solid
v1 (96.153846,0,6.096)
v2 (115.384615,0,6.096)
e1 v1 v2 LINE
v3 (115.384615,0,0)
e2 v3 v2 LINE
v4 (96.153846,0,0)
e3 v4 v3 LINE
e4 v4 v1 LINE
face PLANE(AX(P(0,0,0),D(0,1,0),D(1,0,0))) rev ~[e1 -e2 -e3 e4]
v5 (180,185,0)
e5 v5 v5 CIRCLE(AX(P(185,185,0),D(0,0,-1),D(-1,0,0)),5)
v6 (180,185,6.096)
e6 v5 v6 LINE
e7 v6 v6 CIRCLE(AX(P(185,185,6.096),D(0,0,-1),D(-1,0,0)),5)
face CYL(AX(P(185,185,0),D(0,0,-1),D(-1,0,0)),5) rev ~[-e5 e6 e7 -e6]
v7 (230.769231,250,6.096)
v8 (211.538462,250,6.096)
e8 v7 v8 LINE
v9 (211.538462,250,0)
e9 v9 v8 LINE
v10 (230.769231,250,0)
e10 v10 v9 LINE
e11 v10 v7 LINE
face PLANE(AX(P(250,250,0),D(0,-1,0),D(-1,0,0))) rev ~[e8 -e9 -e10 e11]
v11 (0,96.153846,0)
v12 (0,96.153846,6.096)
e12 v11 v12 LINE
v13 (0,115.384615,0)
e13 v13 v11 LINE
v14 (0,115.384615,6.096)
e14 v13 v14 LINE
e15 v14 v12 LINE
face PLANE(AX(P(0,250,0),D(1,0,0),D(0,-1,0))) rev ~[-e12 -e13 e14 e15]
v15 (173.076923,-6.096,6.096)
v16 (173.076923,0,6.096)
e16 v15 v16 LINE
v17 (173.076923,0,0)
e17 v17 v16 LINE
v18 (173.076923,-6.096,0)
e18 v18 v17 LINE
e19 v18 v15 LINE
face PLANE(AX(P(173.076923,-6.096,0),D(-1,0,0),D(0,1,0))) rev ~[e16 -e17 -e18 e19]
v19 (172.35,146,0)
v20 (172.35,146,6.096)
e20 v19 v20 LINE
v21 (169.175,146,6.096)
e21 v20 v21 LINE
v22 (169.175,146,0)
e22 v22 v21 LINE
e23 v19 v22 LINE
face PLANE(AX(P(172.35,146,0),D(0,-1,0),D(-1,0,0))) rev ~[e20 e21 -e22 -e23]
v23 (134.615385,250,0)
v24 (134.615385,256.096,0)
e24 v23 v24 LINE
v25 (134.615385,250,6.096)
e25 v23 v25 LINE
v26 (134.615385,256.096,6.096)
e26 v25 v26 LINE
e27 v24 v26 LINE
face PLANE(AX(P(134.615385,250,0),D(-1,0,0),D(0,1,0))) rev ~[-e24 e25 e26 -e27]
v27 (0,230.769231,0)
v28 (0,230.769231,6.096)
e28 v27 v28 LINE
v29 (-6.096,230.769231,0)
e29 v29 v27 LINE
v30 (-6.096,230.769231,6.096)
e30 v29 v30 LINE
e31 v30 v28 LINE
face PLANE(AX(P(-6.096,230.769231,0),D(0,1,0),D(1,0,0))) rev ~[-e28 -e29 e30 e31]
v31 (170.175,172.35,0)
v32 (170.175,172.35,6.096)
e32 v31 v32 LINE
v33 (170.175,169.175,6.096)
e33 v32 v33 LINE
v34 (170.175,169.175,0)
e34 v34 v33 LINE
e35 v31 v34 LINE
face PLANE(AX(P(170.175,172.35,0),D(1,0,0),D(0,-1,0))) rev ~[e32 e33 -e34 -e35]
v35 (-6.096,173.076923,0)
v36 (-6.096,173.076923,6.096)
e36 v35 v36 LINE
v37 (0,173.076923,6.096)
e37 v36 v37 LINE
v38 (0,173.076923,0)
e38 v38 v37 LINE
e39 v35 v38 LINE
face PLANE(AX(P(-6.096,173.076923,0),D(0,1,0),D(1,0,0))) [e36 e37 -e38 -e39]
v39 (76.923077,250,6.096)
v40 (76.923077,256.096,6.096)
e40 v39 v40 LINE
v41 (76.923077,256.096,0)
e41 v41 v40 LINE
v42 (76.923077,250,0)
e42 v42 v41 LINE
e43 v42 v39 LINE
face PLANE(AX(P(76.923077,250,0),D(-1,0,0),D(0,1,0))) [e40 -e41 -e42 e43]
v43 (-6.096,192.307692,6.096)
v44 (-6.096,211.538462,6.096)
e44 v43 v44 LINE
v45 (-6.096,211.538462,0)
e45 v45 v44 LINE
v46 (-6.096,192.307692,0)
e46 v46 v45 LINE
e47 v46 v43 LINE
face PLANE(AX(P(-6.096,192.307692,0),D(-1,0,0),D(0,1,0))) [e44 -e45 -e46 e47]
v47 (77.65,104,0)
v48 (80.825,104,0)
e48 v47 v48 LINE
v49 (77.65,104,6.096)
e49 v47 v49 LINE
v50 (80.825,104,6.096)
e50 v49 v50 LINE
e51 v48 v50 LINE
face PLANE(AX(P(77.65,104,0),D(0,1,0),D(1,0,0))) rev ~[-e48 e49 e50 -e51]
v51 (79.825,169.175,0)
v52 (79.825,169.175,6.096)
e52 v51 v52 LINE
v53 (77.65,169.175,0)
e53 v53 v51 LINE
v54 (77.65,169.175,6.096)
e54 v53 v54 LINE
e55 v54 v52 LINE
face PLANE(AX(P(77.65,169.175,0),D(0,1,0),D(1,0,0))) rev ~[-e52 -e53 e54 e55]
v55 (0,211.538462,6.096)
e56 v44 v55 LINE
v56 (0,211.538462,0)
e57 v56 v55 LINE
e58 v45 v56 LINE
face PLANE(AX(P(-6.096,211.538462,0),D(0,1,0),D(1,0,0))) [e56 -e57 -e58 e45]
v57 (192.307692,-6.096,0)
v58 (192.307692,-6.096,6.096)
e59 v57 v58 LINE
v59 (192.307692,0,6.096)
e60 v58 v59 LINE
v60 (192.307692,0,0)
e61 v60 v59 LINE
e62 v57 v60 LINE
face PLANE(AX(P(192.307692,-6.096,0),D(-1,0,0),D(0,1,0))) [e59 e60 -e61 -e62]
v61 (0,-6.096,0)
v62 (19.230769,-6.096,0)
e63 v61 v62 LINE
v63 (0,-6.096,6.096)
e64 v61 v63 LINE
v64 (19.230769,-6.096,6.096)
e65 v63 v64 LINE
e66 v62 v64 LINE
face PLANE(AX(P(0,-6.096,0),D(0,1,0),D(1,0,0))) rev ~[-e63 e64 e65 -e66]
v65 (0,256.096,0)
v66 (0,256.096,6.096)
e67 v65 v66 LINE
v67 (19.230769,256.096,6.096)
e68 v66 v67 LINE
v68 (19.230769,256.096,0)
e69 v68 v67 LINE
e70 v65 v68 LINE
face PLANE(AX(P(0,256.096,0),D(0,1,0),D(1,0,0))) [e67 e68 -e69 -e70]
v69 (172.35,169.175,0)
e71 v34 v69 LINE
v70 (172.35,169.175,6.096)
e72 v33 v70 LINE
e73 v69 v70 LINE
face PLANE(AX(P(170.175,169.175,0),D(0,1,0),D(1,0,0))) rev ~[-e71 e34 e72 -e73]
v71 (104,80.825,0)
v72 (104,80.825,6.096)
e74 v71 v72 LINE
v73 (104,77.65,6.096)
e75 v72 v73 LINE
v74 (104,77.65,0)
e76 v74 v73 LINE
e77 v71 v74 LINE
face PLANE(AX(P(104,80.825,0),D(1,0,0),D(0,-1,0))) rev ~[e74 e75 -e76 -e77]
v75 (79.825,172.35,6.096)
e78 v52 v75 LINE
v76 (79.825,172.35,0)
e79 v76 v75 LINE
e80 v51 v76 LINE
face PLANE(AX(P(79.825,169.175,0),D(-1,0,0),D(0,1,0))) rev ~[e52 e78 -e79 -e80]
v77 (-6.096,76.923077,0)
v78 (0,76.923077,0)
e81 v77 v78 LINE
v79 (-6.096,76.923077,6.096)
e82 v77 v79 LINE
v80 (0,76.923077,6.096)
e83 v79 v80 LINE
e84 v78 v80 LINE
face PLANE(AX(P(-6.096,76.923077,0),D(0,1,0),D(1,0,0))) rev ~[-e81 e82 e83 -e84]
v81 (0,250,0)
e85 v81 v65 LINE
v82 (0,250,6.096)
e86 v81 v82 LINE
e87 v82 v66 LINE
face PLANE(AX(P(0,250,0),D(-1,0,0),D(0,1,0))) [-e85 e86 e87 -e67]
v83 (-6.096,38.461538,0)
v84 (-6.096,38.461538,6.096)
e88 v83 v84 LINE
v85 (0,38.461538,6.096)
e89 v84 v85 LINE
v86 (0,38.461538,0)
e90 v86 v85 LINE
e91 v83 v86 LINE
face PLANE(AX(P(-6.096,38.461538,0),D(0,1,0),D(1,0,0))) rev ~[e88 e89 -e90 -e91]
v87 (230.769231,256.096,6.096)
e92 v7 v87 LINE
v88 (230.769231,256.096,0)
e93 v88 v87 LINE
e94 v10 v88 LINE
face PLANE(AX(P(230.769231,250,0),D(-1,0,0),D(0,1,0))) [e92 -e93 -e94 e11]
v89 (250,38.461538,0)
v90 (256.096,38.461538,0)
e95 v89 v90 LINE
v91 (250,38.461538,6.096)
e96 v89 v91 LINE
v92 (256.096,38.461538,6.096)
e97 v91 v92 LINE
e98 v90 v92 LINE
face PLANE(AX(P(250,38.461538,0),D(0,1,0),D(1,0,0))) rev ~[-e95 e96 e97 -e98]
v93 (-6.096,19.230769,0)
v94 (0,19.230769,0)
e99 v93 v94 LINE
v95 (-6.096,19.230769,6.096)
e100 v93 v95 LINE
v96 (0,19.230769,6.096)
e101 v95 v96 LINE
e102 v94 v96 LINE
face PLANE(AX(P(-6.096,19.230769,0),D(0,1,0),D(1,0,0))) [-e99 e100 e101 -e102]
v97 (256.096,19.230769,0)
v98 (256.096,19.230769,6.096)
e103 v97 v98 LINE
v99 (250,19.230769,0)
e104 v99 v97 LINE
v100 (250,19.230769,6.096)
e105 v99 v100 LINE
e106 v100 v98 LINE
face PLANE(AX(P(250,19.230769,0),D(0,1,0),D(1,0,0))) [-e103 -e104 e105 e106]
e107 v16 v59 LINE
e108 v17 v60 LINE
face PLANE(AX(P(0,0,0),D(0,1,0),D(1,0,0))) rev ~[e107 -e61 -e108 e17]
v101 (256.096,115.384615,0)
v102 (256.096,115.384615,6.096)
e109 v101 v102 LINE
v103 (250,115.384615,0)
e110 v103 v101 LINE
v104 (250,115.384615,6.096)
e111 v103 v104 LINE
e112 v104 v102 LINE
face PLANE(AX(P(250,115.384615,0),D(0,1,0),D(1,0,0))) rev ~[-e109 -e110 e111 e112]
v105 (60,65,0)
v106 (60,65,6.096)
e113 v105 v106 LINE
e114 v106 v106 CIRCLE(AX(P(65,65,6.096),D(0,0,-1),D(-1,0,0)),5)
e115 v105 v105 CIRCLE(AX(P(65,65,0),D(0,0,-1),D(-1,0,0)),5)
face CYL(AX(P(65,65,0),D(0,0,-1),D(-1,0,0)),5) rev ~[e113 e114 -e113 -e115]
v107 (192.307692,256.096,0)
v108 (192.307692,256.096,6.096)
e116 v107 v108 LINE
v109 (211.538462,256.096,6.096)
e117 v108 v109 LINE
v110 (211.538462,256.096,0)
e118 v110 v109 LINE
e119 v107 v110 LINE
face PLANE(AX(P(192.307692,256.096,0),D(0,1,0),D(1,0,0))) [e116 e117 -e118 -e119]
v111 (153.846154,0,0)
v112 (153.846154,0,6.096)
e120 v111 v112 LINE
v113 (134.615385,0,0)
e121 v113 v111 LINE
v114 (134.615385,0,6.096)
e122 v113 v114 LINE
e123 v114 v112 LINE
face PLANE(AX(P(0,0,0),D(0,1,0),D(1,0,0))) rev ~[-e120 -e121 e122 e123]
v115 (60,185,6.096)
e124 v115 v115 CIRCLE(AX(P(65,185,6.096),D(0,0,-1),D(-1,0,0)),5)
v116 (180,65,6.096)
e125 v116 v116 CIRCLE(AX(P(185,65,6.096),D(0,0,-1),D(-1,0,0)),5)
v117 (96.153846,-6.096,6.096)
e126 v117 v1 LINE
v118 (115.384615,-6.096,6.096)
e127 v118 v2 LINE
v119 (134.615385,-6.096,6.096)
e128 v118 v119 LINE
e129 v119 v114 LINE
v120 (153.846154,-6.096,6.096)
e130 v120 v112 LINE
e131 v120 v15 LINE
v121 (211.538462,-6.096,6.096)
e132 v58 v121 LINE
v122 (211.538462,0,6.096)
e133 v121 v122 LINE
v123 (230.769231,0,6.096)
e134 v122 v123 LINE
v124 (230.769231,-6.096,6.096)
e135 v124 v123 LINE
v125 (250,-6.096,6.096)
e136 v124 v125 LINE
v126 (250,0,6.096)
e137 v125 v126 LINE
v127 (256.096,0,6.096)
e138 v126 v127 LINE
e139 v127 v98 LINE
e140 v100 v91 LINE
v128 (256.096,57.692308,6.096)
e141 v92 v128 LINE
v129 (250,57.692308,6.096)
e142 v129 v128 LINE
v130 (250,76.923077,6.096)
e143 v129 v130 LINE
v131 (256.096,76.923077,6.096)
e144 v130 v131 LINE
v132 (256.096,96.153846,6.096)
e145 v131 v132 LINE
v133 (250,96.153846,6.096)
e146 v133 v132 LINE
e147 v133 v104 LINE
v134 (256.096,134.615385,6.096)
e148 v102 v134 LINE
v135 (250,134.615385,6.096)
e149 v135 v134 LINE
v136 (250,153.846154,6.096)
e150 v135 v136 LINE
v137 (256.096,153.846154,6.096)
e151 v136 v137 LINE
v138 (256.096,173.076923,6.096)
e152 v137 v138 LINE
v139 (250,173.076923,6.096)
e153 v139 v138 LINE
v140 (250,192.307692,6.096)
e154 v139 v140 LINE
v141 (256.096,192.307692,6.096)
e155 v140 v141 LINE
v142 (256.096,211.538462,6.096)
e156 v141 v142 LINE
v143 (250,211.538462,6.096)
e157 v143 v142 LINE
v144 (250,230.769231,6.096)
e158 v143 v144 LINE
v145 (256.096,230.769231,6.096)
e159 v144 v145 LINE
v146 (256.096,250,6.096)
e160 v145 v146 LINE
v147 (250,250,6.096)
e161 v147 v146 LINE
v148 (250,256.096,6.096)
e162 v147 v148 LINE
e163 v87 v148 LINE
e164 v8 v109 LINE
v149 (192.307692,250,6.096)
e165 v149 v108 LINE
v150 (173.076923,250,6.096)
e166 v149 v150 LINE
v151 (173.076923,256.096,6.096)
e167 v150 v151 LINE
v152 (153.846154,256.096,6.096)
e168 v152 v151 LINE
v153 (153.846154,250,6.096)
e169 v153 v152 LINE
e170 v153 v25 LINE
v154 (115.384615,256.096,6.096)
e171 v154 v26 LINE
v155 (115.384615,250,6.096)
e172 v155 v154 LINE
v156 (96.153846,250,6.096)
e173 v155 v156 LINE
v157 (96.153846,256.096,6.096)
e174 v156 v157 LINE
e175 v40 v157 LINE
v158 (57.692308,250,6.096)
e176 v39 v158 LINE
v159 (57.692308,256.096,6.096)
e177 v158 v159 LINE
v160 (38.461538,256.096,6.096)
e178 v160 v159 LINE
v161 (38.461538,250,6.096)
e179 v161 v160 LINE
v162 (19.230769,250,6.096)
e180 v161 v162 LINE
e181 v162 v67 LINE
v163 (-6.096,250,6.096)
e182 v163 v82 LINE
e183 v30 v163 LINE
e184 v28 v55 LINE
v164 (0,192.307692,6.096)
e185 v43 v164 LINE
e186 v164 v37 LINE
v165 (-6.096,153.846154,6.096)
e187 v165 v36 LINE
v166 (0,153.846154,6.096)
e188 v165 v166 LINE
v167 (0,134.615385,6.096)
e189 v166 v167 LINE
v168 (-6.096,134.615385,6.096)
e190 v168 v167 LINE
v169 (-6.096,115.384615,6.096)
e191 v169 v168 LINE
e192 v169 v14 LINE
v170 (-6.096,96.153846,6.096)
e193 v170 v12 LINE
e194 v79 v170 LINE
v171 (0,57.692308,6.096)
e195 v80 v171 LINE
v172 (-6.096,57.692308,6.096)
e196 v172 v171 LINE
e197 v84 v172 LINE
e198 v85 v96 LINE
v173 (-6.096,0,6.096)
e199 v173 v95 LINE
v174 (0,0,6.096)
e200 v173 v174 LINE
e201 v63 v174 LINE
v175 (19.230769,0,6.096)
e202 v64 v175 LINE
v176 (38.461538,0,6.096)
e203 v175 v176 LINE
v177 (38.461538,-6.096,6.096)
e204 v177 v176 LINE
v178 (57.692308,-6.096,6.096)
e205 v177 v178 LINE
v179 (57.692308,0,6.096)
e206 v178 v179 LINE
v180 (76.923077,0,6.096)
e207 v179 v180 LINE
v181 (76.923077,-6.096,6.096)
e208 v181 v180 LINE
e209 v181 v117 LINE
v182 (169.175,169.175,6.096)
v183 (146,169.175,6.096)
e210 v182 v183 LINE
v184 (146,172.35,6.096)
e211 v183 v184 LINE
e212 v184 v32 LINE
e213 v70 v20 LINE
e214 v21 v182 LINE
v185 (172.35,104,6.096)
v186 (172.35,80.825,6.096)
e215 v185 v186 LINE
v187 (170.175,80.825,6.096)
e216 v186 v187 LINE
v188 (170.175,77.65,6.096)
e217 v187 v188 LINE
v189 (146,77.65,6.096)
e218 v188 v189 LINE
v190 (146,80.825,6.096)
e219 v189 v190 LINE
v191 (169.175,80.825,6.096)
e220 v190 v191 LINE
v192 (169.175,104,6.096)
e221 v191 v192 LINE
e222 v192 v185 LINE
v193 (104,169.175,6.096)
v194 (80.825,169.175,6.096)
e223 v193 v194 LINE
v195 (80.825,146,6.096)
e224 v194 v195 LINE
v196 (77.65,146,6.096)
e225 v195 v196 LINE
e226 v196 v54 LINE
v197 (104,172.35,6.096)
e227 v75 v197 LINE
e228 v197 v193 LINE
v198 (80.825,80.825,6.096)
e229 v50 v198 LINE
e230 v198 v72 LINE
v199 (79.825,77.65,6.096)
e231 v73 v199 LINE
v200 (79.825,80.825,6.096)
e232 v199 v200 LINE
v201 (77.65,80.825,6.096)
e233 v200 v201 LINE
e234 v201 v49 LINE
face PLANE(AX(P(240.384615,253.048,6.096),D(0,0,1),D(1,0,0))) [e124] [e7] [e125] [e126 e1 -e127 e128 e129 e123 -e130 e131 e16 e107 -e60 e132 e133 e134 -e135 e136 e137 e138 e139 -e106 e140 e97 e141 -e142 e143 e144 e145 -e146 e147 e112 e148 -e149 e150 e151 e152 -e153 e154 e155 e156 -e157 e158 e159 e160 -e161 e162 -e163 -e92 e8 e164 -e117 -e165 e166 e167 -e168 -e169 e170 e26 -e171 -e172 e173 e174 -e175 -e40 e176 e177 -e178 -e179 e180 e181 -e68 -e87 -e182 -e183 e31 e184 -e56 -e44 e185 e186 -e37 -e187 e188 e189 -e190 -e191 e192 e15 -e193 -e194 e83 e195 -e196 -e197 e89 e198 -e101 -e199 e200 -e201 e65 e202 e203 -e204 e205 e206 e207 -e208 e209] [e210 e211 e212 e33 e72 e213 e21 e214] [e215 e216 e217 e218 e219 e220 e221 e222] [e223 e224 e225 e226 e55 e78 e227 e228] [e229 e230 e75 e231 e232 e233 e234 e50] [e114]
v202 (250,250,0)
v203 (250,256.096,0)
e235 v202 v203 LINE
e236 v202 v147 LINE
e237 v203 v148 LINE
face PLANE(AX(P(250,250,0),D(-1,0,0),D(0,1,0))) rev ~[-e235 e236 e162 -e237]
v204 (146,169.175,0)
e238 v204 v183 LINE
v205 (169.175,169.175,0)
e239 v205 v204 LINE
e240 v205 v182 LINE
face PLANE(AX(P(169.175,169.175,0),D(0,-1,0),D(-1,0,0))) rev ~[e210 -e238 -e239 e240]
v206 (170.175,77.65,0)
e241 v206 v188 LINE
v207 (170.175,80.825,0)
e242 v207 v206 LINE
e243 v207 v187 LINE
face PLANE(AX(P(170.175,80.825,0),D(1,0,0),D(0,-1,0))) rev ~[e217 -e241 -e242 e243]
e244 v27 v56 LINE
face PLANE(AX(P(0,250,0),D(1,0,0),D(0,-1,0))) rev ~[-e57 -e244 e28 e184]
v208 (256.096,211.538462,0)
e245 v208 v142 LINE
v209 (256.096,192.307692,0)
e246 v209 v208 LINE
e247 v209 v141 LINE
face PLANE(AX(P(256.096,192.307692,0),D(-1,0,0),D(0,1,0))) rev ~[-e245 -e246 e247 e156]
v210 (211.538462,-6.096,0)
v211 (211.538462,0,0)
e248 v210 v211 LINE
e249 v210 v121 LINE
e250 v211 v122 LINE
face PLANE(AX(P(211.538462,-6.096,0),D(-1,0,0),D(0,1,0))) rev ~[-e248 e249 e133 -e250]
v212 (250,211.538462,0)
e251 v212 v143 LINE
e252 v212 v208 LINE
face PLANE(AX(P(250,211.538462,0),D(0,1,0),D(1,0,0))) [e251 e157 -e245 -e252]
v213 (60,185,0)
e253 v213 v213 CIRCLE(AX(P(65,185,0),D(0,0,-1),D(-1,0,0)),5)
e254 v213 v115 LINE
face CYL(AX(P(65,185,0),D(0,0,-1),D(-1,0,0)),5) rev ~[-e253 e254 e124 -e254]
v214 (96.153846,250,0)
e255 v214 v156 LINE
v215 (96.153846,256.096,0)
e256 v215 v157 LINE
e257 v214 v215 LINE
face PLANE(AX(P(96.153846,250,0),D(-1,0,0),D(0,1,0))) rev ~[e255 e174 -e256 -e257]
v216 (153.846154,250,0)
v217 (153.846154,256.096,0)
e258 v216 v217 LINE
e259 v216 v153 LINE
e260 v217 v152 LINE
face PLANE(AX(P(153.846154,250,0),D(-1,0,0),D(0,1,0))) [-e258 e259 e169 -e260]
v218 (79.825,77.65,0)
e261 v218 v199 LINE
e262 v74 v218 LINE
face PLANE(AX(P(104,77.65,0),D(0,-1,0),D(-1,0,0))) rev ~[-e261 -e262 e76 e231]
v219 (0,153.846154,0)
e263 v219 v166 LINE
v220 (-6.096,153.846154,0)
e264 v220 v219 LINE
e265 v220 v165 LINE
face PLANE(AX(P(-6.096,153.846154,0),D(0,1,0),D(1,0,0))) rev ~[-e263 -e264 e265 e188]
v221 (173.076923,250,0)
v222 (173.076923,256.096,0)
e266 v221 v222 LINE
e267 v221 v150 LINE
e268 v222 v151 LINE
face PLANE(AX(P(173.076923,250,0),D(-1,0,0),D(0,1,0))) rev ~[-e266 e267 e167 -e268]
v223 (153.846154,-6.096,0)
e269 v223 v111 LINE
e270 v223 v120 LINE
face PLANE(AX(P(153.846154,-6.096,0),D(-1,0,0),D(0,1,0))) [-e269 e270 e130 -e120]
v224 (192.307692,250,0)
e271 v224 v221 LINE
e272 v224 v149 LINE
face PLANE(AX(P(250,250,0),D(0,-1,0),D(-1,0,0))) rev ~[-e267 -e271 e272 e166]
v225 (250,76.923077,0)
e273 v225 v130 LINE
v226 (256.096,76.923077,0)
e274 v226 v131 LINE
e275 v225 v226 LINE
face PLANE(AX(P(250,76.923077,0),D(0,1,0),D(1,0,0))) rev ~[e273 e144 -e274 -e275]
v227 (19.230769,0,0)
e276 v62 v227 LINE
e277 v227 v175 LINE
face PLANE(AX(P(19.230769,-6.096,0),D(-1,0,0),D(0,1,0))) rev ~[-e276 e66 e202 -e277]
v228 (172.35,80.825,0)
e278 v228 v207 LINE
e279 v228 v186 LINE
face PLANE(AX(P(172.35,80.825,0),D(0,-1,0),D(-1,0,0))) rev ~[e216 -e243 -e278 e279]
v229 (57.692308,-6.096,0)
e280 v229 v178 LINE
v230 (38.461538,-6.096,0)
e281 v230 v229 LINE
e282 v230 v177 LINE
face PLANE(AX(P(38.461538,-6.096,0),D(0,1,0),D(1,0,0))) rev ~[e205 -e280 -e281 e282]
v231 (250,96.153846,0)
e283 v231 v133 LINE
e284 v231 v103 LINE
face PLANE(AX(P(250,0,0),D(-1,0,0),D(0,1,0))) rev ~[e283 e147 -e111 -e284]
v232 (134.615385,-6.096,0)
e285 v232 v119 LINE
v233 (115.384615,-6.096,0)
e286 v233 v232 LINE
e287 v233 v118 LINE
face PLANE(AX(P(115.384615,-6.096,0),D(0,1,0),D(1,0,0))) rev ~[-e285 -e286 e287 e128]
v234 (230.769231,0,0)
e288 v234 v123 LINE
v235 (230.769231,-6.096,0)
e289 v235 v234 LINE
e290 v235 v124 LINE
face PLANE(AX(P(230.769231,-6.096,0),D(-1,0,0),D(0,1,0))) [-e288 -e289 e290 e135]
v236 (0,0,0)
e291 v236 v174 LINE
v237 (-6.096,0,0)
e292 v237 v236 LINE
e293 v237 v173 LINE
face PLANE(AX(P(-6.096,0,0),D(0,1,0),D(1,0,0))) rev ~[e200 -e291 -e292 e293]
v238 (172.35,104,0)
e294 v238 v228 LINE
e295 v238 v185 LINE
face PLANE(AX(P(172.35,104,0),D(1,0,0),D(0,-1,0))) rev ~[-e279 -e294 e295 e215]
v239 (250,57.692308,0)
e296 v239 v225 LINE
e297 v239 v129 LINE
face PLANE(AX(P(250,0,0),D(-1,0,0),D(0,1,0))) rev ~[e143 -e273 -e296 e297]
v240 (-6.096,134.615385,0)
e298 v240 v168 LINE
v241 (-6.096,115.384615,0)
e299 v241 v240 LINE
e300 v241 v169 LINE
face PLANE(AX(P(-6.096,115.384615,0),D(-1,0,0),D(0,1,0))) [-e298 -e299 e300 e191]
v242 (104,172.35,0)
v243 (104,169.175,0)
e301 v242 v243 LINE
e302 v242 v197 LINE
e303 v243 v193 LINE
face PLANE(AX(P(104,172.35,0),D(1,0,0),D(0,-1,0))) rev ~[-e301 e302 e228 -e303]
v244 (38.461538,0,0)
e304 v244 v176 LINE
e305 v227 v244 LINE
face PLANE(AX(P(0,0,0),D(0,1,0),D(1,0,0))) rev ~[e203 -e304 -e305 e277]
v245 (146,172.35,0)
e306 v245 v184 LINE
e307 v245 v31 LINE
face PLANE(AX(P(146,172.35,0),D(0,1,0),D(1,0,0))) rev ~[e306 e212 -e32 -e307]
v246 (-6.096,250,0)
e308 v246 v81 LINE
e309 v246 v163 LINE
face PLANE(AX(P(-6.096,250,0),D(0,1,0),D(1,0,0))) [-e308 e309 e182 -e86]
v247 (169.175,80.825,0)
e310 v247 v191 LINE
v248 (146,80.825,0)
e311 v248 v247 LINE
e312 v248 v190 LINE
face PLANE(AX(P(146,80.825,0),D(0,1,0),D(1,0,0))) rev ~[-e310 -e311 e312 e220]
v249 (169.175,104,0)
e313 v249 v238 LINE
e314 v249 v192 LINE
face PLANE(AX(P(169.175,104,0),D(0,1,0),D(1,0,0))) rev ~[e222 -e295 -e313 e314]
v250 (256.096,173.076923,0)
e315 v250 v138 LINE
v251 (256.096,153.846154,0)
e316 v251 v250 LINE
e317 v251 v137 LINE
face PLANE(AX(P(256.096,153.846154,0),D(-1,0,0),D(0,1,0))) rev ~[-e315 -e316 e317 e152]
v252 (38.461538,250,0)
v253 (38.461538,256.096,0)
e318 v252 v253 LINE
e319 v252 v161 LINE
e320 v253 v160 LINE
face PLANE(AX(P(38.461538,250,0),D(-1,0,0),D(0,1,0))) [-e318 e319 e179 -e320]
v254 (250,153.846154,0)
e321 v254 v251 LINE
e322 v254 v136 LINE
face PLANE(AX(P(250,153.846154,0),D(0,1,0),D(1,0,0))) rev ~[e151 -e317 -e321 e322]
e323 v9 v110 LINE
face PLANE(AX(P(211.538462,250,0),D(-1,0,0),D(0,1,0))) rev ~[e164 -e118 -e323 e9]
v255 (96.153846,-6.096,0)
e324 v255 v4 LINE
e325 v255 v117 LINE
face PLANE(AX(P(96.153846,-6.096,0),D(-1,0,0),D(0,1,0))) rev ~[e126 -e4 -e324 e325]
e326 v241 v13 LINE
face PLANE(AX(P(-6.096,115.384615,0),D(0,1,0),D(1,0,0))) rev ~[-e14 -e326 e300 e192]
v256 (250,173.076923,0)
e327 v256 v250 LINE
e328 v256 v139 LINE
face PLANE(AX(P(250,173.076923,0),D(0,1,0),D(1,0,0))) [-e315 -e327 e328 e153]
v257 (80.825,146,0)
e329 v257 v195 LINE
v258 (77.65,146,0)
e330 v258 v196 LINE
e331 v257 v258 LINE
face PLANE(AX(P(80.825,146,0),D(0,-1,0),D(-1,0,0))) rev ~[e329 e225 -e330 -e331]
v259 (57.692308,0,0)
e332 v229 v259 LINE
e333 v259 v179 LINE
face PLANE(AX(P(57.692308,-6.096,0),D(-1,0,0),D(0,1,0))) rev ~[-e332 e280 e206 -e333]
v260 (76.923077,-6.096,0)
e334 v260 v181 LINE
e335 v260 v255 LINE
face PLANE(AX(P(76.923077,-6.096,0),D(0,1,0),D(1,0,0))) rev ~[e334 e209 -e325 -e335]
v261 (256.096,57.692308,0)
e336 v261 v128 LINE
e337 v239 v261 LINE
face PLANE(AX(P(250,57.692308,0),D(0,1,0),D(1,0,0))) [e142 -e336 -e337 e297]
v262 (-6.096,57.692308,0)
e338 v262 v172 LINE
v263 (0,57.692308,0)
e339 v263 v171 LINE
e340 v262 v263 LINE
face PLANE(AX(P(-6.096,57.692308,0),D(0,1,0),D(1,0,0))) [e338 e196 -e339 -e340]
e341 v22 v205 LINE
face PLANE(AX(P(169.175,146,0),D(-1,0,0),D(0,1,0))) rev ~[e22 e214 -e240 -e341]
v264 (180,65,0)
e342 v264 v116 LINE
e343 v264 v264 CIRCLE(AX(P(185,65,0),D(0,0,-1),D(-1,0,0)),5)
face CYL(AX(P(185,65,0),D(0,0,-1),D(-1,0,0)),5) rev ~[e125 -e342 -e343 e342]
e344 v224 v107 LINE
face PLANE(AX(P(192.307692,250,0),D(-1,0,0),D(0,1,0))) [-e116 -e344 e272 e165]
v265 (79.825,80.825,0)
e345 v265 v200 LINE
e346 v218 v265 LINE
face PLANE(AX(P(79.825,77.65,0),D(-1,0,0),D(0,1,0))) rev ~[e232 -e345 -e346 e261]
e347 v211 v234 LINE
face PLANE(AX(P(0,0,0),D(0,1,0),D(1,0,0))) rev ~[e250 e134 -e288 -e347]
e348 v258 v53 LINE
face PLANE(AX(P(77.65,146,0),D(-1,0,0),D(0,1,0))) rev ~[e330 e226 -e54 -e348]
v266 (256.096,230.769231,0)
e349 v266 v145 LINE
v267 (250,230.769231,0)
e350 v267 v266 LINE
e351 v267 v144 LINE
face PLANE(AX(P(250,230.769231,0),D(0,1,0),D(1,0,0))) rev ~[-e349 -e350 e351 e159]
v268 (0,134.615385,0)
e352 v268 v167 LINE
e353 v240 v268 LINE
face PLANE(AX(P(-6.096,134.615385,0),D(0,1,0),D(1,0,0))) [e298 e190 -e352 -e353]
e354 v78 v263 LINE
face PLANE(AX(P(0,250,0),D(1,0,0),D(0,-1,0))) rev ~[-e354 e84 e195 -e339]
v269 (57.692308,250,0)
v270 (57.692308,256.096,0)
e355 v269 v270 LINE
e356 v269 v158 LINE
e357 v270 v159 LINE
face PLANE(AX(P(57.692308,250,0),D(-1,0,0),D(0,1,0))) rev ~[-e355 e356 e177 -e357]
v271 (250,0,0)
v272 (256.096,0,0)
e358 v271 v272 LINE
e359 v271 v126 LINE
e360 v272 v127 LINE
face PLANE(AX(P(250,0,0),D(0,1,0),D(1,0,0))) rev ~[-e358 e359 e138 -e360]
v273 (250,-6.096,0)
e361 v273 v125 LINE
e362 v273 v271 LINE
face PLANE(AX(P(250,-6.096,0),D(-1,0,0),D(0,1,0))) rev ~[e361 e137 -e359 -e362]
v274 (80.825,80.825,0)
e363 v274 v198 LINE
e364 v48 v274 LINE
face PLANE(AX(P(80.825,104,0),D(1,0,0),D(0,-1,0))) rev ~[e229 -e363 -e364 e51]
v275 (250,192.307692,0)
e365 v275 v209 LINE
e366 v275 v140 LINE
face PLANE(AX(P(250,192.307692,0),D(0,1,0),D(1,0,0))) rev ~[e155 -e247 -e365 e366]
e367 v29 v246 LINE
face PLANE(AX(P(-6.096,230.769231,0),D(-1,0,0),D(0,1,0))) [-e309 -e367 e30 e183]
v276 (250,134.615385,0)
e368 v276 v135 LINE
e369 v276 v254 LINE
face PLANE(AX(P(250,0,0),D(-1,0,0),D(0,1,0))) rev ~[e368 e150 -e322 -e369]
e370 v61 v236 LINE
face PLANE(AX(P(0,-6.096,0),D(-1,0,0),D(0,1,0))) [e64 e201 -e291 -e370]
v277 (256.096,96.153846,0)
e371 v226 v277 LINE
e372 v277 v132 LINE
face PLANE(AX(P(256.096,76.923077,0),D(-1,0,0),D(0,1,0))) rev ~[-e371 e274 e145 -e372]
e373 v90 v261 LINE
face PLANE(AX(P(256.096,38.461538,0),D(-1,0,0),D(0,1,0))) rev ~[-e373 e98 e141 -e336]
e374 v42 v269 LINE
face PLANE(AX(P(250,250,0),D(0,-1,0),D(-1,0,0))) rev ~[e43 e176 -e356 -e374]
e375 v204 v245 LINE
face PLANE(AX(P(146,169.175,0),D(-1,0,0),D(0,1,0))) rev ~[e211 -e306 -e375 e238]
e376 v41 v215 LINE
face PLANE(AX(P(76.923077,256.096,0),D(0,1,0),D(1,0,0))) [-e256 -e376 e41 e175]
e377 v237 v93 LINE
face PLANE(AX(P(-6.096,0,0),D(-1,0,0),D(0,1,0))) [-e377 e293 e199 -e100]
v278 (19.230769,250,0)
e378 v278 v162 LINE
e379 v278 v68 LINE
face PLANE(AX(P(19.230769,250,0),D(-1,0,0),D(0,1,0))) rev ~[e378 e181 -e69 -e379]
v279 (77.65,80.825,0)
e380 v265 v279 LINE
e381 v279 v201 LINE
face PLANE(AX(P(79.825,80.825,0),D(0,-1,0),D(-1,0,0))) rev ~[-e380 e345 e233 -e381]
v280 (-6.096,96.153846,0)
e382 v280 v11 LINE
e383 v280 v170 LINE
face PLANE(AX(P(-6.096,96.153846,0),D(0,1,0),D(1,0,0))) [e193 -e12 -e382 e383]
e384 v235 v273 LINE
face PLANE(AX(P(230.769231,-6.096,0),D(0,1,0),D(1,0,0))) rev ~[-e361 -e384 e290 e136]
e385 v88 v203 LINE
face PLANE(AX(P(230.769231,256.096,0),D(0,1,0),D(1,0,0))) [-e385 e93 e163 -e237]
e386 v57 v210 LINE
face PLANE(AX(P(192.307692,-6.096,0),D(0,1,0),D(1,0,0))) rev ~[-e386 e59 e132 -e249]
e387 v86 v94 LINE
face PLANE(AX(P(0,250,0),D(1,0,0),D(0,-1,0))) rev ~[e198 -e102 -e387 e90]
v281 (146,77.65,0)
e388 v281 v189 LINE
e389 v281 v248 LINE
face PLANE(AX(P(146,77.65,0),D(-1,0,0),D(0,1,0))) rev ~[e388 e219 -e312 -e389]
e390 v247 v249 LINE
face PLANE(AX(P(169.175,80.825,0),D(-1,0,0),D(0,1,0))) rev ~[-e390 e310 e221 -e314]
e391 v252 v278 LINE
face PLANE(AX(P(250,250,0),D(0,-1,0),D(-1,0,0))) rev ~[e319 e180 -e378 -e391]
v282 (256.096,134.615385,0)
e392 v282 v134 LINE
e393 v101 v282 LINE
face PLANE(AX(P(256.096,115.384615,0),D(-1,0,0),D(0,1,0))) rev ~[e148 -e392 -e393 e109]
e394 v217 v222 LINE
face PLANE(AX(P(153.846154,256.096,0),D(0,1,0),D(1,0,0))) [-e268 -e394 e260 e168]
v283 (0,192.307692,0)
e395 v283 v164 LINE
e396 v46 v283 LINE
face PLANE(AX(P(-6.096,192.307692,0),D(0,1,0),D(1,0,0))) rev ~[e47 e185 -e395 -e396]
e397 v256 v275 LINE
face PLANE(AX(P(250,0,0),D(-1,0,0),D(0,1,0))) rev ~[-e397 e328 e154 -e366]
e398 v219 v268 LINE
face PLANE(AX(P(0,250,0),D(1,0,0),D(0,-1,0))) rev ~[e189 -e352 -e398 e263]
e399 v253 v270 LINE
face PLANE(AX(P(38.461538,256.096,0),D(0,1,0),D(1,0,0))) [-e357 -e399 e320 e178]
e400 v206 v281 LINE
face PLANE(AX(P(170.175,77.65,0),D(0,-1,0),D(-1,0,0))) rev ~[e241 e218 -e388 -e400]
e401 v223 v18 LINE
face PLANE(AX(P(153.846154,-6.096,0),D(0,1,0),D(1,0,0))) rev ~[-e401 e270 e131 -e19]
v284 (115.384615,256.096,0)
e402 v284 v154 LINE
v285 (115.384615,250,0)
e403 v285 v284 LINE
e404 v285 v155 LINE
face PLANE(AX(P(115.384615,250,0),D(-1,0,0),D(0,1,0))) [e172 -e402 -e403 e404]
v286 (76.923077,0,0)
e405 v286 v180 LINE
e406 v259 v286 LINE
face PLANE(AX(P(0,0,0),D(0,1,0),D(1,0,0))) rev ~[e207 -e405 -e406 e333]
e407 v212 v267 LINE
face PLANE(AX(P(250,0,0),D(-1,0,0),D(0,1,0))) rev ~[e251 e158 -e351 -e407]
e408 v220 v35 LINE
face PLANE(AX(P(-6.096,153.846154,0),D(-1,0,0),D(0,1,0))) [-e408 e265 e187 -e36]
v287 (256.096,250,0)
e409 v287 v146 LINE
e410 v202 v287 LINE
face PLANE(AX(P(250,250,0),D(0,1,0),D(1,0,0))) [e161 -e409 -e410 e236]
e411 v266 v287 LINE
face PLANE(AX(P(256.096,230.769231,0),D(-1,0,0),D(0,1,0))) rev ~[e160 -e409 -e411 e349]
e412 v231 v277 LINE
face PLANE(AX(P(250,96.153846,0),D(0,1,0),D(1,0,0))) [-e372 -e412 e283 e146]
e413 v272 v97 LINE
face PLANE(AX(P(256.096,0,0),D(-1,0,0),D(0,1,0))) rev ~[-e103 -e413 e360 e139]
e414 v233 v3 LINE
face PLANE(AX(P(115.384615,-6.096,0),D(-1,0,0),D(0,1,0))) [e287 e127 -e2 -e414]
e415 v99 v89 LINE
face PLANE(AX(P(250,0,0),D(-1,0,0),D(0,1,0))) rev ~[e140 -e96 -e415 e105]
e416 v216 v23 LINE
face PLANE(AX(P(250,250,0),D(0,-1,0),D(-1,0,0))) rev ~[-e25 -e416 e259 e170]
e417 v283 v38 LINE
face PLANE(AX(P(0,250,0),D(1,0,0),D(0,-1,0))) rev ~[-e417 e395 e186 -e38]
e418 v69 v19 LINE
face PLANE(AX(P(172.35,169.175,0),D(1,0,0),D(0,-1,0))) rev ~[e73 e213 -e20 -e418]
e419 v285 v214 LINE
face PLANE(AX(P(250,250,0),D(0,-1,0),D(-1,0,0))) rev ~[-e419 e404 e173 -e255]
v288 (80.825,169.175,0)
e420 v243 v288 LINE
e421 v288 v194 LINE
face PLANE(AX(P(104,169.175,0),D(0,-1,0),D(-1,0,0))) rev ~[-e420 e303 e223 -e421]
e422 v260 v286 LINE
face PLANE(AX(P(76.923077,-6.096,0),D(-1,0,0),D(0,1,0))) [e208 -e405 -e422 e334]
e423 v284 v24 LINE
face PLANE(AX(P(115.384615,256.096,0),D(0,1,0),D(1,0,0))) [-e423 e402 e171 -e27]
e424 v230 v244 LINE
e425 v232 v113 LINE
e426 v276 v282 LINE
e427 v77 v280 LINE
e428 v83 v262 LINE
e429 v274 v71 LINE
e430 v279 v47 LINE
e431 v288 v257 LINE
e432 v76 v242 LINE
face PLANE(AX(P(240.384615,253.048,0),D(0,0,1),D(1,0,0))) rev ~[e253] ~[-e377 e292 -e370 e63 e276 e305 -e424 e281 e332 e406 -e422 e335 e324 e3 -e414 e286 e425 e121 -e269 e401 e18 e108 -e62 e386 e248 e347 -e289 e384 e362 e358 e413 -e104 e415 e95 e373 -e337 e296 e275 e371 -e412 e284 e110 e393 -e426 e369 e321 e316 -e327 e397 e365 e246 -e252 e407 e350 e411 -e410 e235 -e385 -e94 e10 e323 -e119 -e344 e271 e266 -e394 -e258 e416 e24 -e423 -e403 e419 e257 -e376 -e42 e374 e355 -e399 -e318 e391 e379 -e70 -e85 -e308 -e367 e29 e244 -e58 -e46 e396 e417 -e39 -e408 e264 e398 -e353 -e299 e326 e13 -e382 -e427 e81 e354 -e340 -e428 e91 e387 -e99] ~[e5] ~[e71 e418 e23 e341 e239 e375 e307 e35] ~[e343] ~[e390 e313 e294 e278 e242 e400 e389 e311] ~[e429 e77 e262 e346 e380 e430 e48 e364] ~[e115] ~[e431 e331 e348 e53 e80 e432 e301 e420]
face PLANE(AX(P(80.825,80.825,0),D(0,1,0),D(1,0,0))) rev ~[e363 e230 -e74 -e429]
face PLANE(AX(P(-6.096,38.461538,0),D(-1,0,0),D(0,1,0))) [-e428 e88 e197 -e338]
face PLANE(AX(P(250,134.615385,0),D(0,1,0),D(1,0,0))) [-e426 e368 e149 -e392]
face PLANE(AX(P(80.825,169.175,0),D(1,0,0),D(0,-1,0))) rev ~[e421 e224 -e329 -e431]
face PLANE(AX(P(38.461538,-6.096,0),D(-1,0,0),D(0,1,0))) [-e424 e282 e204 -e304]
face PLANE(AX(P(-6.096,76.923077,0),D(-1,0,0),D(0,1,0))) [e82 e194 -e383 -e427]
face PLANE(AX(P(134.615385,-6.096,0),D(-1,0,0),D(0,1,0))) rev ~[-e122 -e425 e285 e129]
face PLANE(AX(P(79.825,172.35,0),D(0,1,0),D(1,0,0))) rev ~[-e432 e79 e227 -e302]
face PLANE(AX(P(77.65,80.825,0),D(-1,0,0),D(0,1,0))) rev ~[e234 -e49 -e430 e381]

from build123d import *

# Parameters (mm, degrees)
SKETCH2_W           = 6.096
SKETCH2_H           = 19.230769231
SKETCH2_W_2         = 19.230769231
SKETCH2_H_2         = 6.096
SKETCH2_W_3         = 19.23076923
SKETCH2_H_3         = 19.23076923
BOSS_EXTRUDE2_DEPTH = 6.096
SKETCH3_R           = 5
CUT_EXTRUDE1_DEPTH  = 363.225735762


with BuildPart() as part:
    # Sketch2 → Boss-Extrude2 (new body)
    # profile 1 of 29: a face of its own
    with BuildSketch(Plane.XY):
        Polygon((0, 19.230769231), (0, 0), (19.230769231, 0), (38.461538462, 0), (57.692307692, 0), (76.923076923, 0), (96.153846154, 0), (115.384615385, 0), (134.615384615, 0), (153.846153846, 0), (173.076923077, 0), (192.307692308, 0), (211.538461538, 0), (230.769230769, 0), (250, 0), (250, 19.230769231), (250, 38.461538462), (250, 57.692307692), (250, 76.923076923), (250, 96.153846154), (250, 115.384615385), (250, 134.615384615), (250, 153.846153846), (250, 173.076923077), (250, 192.307692308), (250, 211.538461538), (250, 230.769230769), (250, 250), (230.769230769, 250), (211.538461538, 250), (192.307692308, 250), (173.076923077, 250), (153.846153846, 250), (134.615384615, 250), (115.384615385, 250), (96.153846154, 250), (76.923076923, 250), (57.692307692, 250), (38.461538462, 250), (19.230769231, 250), (0, 250), (0, 230.769230769), (0, 211.538461538), (0, 192.307692308), (0, 173.076923077), (0, 153.846153846), (0, 134.615384615), (0, 115.384615385), (0, 96.153846154), (0, 76.923076923), (0, 57.692307692), (0, 38.461538462), align=None)
        Polygon((80.825, 104), (80.825, 80.825), (104, 80.825), (104, 77.65), (80.825, 77.65), (79.825, 77.65), (79.825, 80.825), (77.65, 80.825), (77.65, 104), align=None, mode=Mode.SUBTRACT)
        Polygon((146, 80.825), (169.175, 80.825), (169.175, 104), (172.35, 104), (172.35, 80.825), (170.175, 80.825), (170.175, 77.65), (169.175, 77.65), (146, 77.65), align=None, mode=Mode.SUBTRACT)
        Polygon((104, 169.175), (80.825, 169.175), (80.825, 146), (77.65, 146), (77.65, 169.175), (79.825, 169.175), (79.825, 172.35), (80.825, 172.35), (104, 172.35), align=None, mode=Mode.SUBTRACT)
        Polygon((169.175, 146), (169.175, 169.175), (146, 169.175), (146, 172.35), (169.175, 172.35), (170.175, 172.35), (170.175, 169.175), (172.35, 169.175), (172.35, 146), align=None, mode=Mode.SUBTRACT)
    # profile 2 of 29: a face of its own
    with BuildSketch(Plane.XY):
        with Locations((-3.048, 9.615384616)):
            Rectangle(SKETCH2_W, SKETCH2_H)
    # profile 3 of 29: a face of its own
    with BuildSketch(Plane.XY):
        with Locations((9.615384616, -3.048)):
            Rectangle(SKETCH2_W_2, SKETCH2_H_2)
    # profile 4 of 29: a face of its own
    with BuildSketch(Plane.XY):
        with Locations((48.076923077, -3.048)):
            Rectangle(SKETCH2_W_3, SKETCH2_H_2)
    # profile 5 of 29: a face of its own
    with BuildSketch(Plane.XY):
        with Locations((-3.048, 48.076923077)):
            Rectangle(SKETCH2_W, SKETCH2_H_3)
    # profile 6 of 29: a face of its own
    with BuildSketch(Plane.XY):
        with Locations((86.538461539, -3.048)):
            Rectangle(SKETCH2_W_2, SKETCH2_H_2)
    # profile 7 of 29: a face of its own
    with BuildSketch(Plane.XY):
        with Locations((-3.048, 86.538461539)):
            Rectangle(SKETCH2_W, SKETCH2_H)
    # profile 8 of 29: a face of its own
    with BuildSketch(Plane.XY):
        with Locations((125, -3.048)):
            Rectangle(SKETCH2_W_3, SKETCH2_H_2)
    # profile 9 of 29: a face of its own
    with BuildSketch(Plane.XY):
        with Locations((-3.048, 125)):
            Rectangle(SKETCH2_W, SKETCH2_H_3)
    # profile 10 of 29: a face of its own
    with BuildSketch(Plane.XY):
        with Locations((163.461538462, -3.048)):
            Rectangle(SKETCH2_W_2, SKETCH2_H_2)
    # profile 11 of 29: a face of its own
    with BuildSketch(Plane.XY):
        with Locations((-3.048, 163.461538462)):
            Rectangle(SKETCH2_W, SKETCH2_H)
    # profile 12 of 29: a face of its own
    with BuildSketch(Plane.XY):
        with Locations((201.923076923, -3.048)):
            Rectangle(SKETCH2_W_3, SKETCH2_H_2)
    # profile 13 of 29: a face of its own
    with BuildSketch(Plane.XY):
        with Locations((-3.048, 201.923076923)):
            Rectangle(SKETCH2_W, SKETCH2_H_3)
    # profile 14 of 29: a face of its own
    with BuildSketch(Plane.XY):
        with Locations((240.384615385, -3.048)):
            Rectangle(SKETCH2_W_2, SKETCH2_H_2)
    # profile 15 of 29: a face of its own
    with BuildSketch(Plane.XY):
        with Locations((-3.048, 240.384615385)):
            Rectangle(SKETCH2_W, SKETCH2_H)
    # profile 16 of 29: a face of its own
    with BuildSketch(Plane.XY):
        with Locations((253.048, 9.615384616)):
            Rectangle(SKETCH2_W, SKETCH2_H)
    # profile 17 of 29: a face of its own
    with BuildSketch(Plane.XY):
        with Locations((9.615384616, 253.048)):
            Rectangle(SKETCH2_W_2, SKETCH2_H_2)
    # profile 18 of 29: a face of its own
    with BuildSketch(Plane.XY):
        with Locations((253.048, 48.076923077)):
            Rectangle(SKETCH2_W, SKETCH2_H_3)
    # profile 19 of 29: a face of its own
    with BuildSketch(Plane.XY):
        with Locations((48.076923077, 253.048)):
            Rectangle(SKETCH2_W_3, SKETCH2_H_2)
    # profile 20 of 29: a face of its own
    with BuildSketch(Plane.XY):
        with Locations((253.048, 86.538461539)):
            Rectangle(SKETCH2_W, SKETCH2_H)
    # profile 21 of 29: a face of its own
    with BuildSketch(Plane.XY):
        with Locations((86.538461539, 253.048)):
            Rectangle(SKETCH2_W_2, SKETCH2_H_2)
    # profile 22 of 29: a face of its own
    with BuildSketch(Plane.XY):
        with Locations((253.048, 125)):
            Rectangle(SKETCH2_W, SKETCH2_H_3)
    # profile 23 of 29: a face of its own
    with BuildSketch(Plane.XY):
        with Locations((125, 253.048)):
            Rectangle(SKETCH2_W_3, SKETCH2_H_2)
    # profile 24 of 29: a face of its own
    with BuildSketch(Plane.XY):
        with Locations((253.048, 163.461538462)):
            Rectangle(SKETCH2_W, SKETCH2_H)
    # profile 25 of 29: a face of its own
    with BuildSketch(Plane.XY):
        with Locations((163.461538462, 253.048)):
            Rectangle(SKETCH2_W_2, SKETCH2_H_2)
    # profile 26 of 29: a face of its own
    with BuildSketch(Plane.XY):
        with Locations((253.048, 201.923076923)):
            Rectangle(SKETCH2_W, SKETCH2_H_3)
    # profile 27 of 29: a face of its own
    with BuildSketch(Plane.XY):
        with Locations((201.923076923, 253.048)):
            Rectangle(SKETCH2_W_3, SKETCH2_H_2)
    # profile 28 of 29: a face of its own
    with BuildSketch(Plane.XY):
        with Locations((253.048, 240.384615385)):
            Rectangle(SKETCH2_W, SKETCH2_H)
    # profile 29 of 29: a face of its own
    with BuildSketch(Plane.XY):
        with Locations((240.384615385, 253.048)):
            Rectangle(SKETCH2_W_2, SKETCH2_H_2)
    extrude(amount=BOSS_EXTRUDE2_DEPTH)

    # Sketch3 → Cut-Extrude1 (cut, through all)
    with BuildSketch(Plane(origin=(0, 0, 0), x_dir=(-1, 0, 0), z_dir=(0, 0, -1))):
        with Locations((-185, 185)):
            Circle(SKETCH3_R)
        with Locations((-65, 185)):
            Circle(SKETCH3_R)
        with Locations((-65, 65)):
            Circle(SKETCH3_R)
        with Locations((-185, 65)):
            Circle(SKETCH3_R)
    extrude(amount=-CUT_EXTRUDE1_DEPTH, mode=Mode.SUBTRACT)


solid = part.part
